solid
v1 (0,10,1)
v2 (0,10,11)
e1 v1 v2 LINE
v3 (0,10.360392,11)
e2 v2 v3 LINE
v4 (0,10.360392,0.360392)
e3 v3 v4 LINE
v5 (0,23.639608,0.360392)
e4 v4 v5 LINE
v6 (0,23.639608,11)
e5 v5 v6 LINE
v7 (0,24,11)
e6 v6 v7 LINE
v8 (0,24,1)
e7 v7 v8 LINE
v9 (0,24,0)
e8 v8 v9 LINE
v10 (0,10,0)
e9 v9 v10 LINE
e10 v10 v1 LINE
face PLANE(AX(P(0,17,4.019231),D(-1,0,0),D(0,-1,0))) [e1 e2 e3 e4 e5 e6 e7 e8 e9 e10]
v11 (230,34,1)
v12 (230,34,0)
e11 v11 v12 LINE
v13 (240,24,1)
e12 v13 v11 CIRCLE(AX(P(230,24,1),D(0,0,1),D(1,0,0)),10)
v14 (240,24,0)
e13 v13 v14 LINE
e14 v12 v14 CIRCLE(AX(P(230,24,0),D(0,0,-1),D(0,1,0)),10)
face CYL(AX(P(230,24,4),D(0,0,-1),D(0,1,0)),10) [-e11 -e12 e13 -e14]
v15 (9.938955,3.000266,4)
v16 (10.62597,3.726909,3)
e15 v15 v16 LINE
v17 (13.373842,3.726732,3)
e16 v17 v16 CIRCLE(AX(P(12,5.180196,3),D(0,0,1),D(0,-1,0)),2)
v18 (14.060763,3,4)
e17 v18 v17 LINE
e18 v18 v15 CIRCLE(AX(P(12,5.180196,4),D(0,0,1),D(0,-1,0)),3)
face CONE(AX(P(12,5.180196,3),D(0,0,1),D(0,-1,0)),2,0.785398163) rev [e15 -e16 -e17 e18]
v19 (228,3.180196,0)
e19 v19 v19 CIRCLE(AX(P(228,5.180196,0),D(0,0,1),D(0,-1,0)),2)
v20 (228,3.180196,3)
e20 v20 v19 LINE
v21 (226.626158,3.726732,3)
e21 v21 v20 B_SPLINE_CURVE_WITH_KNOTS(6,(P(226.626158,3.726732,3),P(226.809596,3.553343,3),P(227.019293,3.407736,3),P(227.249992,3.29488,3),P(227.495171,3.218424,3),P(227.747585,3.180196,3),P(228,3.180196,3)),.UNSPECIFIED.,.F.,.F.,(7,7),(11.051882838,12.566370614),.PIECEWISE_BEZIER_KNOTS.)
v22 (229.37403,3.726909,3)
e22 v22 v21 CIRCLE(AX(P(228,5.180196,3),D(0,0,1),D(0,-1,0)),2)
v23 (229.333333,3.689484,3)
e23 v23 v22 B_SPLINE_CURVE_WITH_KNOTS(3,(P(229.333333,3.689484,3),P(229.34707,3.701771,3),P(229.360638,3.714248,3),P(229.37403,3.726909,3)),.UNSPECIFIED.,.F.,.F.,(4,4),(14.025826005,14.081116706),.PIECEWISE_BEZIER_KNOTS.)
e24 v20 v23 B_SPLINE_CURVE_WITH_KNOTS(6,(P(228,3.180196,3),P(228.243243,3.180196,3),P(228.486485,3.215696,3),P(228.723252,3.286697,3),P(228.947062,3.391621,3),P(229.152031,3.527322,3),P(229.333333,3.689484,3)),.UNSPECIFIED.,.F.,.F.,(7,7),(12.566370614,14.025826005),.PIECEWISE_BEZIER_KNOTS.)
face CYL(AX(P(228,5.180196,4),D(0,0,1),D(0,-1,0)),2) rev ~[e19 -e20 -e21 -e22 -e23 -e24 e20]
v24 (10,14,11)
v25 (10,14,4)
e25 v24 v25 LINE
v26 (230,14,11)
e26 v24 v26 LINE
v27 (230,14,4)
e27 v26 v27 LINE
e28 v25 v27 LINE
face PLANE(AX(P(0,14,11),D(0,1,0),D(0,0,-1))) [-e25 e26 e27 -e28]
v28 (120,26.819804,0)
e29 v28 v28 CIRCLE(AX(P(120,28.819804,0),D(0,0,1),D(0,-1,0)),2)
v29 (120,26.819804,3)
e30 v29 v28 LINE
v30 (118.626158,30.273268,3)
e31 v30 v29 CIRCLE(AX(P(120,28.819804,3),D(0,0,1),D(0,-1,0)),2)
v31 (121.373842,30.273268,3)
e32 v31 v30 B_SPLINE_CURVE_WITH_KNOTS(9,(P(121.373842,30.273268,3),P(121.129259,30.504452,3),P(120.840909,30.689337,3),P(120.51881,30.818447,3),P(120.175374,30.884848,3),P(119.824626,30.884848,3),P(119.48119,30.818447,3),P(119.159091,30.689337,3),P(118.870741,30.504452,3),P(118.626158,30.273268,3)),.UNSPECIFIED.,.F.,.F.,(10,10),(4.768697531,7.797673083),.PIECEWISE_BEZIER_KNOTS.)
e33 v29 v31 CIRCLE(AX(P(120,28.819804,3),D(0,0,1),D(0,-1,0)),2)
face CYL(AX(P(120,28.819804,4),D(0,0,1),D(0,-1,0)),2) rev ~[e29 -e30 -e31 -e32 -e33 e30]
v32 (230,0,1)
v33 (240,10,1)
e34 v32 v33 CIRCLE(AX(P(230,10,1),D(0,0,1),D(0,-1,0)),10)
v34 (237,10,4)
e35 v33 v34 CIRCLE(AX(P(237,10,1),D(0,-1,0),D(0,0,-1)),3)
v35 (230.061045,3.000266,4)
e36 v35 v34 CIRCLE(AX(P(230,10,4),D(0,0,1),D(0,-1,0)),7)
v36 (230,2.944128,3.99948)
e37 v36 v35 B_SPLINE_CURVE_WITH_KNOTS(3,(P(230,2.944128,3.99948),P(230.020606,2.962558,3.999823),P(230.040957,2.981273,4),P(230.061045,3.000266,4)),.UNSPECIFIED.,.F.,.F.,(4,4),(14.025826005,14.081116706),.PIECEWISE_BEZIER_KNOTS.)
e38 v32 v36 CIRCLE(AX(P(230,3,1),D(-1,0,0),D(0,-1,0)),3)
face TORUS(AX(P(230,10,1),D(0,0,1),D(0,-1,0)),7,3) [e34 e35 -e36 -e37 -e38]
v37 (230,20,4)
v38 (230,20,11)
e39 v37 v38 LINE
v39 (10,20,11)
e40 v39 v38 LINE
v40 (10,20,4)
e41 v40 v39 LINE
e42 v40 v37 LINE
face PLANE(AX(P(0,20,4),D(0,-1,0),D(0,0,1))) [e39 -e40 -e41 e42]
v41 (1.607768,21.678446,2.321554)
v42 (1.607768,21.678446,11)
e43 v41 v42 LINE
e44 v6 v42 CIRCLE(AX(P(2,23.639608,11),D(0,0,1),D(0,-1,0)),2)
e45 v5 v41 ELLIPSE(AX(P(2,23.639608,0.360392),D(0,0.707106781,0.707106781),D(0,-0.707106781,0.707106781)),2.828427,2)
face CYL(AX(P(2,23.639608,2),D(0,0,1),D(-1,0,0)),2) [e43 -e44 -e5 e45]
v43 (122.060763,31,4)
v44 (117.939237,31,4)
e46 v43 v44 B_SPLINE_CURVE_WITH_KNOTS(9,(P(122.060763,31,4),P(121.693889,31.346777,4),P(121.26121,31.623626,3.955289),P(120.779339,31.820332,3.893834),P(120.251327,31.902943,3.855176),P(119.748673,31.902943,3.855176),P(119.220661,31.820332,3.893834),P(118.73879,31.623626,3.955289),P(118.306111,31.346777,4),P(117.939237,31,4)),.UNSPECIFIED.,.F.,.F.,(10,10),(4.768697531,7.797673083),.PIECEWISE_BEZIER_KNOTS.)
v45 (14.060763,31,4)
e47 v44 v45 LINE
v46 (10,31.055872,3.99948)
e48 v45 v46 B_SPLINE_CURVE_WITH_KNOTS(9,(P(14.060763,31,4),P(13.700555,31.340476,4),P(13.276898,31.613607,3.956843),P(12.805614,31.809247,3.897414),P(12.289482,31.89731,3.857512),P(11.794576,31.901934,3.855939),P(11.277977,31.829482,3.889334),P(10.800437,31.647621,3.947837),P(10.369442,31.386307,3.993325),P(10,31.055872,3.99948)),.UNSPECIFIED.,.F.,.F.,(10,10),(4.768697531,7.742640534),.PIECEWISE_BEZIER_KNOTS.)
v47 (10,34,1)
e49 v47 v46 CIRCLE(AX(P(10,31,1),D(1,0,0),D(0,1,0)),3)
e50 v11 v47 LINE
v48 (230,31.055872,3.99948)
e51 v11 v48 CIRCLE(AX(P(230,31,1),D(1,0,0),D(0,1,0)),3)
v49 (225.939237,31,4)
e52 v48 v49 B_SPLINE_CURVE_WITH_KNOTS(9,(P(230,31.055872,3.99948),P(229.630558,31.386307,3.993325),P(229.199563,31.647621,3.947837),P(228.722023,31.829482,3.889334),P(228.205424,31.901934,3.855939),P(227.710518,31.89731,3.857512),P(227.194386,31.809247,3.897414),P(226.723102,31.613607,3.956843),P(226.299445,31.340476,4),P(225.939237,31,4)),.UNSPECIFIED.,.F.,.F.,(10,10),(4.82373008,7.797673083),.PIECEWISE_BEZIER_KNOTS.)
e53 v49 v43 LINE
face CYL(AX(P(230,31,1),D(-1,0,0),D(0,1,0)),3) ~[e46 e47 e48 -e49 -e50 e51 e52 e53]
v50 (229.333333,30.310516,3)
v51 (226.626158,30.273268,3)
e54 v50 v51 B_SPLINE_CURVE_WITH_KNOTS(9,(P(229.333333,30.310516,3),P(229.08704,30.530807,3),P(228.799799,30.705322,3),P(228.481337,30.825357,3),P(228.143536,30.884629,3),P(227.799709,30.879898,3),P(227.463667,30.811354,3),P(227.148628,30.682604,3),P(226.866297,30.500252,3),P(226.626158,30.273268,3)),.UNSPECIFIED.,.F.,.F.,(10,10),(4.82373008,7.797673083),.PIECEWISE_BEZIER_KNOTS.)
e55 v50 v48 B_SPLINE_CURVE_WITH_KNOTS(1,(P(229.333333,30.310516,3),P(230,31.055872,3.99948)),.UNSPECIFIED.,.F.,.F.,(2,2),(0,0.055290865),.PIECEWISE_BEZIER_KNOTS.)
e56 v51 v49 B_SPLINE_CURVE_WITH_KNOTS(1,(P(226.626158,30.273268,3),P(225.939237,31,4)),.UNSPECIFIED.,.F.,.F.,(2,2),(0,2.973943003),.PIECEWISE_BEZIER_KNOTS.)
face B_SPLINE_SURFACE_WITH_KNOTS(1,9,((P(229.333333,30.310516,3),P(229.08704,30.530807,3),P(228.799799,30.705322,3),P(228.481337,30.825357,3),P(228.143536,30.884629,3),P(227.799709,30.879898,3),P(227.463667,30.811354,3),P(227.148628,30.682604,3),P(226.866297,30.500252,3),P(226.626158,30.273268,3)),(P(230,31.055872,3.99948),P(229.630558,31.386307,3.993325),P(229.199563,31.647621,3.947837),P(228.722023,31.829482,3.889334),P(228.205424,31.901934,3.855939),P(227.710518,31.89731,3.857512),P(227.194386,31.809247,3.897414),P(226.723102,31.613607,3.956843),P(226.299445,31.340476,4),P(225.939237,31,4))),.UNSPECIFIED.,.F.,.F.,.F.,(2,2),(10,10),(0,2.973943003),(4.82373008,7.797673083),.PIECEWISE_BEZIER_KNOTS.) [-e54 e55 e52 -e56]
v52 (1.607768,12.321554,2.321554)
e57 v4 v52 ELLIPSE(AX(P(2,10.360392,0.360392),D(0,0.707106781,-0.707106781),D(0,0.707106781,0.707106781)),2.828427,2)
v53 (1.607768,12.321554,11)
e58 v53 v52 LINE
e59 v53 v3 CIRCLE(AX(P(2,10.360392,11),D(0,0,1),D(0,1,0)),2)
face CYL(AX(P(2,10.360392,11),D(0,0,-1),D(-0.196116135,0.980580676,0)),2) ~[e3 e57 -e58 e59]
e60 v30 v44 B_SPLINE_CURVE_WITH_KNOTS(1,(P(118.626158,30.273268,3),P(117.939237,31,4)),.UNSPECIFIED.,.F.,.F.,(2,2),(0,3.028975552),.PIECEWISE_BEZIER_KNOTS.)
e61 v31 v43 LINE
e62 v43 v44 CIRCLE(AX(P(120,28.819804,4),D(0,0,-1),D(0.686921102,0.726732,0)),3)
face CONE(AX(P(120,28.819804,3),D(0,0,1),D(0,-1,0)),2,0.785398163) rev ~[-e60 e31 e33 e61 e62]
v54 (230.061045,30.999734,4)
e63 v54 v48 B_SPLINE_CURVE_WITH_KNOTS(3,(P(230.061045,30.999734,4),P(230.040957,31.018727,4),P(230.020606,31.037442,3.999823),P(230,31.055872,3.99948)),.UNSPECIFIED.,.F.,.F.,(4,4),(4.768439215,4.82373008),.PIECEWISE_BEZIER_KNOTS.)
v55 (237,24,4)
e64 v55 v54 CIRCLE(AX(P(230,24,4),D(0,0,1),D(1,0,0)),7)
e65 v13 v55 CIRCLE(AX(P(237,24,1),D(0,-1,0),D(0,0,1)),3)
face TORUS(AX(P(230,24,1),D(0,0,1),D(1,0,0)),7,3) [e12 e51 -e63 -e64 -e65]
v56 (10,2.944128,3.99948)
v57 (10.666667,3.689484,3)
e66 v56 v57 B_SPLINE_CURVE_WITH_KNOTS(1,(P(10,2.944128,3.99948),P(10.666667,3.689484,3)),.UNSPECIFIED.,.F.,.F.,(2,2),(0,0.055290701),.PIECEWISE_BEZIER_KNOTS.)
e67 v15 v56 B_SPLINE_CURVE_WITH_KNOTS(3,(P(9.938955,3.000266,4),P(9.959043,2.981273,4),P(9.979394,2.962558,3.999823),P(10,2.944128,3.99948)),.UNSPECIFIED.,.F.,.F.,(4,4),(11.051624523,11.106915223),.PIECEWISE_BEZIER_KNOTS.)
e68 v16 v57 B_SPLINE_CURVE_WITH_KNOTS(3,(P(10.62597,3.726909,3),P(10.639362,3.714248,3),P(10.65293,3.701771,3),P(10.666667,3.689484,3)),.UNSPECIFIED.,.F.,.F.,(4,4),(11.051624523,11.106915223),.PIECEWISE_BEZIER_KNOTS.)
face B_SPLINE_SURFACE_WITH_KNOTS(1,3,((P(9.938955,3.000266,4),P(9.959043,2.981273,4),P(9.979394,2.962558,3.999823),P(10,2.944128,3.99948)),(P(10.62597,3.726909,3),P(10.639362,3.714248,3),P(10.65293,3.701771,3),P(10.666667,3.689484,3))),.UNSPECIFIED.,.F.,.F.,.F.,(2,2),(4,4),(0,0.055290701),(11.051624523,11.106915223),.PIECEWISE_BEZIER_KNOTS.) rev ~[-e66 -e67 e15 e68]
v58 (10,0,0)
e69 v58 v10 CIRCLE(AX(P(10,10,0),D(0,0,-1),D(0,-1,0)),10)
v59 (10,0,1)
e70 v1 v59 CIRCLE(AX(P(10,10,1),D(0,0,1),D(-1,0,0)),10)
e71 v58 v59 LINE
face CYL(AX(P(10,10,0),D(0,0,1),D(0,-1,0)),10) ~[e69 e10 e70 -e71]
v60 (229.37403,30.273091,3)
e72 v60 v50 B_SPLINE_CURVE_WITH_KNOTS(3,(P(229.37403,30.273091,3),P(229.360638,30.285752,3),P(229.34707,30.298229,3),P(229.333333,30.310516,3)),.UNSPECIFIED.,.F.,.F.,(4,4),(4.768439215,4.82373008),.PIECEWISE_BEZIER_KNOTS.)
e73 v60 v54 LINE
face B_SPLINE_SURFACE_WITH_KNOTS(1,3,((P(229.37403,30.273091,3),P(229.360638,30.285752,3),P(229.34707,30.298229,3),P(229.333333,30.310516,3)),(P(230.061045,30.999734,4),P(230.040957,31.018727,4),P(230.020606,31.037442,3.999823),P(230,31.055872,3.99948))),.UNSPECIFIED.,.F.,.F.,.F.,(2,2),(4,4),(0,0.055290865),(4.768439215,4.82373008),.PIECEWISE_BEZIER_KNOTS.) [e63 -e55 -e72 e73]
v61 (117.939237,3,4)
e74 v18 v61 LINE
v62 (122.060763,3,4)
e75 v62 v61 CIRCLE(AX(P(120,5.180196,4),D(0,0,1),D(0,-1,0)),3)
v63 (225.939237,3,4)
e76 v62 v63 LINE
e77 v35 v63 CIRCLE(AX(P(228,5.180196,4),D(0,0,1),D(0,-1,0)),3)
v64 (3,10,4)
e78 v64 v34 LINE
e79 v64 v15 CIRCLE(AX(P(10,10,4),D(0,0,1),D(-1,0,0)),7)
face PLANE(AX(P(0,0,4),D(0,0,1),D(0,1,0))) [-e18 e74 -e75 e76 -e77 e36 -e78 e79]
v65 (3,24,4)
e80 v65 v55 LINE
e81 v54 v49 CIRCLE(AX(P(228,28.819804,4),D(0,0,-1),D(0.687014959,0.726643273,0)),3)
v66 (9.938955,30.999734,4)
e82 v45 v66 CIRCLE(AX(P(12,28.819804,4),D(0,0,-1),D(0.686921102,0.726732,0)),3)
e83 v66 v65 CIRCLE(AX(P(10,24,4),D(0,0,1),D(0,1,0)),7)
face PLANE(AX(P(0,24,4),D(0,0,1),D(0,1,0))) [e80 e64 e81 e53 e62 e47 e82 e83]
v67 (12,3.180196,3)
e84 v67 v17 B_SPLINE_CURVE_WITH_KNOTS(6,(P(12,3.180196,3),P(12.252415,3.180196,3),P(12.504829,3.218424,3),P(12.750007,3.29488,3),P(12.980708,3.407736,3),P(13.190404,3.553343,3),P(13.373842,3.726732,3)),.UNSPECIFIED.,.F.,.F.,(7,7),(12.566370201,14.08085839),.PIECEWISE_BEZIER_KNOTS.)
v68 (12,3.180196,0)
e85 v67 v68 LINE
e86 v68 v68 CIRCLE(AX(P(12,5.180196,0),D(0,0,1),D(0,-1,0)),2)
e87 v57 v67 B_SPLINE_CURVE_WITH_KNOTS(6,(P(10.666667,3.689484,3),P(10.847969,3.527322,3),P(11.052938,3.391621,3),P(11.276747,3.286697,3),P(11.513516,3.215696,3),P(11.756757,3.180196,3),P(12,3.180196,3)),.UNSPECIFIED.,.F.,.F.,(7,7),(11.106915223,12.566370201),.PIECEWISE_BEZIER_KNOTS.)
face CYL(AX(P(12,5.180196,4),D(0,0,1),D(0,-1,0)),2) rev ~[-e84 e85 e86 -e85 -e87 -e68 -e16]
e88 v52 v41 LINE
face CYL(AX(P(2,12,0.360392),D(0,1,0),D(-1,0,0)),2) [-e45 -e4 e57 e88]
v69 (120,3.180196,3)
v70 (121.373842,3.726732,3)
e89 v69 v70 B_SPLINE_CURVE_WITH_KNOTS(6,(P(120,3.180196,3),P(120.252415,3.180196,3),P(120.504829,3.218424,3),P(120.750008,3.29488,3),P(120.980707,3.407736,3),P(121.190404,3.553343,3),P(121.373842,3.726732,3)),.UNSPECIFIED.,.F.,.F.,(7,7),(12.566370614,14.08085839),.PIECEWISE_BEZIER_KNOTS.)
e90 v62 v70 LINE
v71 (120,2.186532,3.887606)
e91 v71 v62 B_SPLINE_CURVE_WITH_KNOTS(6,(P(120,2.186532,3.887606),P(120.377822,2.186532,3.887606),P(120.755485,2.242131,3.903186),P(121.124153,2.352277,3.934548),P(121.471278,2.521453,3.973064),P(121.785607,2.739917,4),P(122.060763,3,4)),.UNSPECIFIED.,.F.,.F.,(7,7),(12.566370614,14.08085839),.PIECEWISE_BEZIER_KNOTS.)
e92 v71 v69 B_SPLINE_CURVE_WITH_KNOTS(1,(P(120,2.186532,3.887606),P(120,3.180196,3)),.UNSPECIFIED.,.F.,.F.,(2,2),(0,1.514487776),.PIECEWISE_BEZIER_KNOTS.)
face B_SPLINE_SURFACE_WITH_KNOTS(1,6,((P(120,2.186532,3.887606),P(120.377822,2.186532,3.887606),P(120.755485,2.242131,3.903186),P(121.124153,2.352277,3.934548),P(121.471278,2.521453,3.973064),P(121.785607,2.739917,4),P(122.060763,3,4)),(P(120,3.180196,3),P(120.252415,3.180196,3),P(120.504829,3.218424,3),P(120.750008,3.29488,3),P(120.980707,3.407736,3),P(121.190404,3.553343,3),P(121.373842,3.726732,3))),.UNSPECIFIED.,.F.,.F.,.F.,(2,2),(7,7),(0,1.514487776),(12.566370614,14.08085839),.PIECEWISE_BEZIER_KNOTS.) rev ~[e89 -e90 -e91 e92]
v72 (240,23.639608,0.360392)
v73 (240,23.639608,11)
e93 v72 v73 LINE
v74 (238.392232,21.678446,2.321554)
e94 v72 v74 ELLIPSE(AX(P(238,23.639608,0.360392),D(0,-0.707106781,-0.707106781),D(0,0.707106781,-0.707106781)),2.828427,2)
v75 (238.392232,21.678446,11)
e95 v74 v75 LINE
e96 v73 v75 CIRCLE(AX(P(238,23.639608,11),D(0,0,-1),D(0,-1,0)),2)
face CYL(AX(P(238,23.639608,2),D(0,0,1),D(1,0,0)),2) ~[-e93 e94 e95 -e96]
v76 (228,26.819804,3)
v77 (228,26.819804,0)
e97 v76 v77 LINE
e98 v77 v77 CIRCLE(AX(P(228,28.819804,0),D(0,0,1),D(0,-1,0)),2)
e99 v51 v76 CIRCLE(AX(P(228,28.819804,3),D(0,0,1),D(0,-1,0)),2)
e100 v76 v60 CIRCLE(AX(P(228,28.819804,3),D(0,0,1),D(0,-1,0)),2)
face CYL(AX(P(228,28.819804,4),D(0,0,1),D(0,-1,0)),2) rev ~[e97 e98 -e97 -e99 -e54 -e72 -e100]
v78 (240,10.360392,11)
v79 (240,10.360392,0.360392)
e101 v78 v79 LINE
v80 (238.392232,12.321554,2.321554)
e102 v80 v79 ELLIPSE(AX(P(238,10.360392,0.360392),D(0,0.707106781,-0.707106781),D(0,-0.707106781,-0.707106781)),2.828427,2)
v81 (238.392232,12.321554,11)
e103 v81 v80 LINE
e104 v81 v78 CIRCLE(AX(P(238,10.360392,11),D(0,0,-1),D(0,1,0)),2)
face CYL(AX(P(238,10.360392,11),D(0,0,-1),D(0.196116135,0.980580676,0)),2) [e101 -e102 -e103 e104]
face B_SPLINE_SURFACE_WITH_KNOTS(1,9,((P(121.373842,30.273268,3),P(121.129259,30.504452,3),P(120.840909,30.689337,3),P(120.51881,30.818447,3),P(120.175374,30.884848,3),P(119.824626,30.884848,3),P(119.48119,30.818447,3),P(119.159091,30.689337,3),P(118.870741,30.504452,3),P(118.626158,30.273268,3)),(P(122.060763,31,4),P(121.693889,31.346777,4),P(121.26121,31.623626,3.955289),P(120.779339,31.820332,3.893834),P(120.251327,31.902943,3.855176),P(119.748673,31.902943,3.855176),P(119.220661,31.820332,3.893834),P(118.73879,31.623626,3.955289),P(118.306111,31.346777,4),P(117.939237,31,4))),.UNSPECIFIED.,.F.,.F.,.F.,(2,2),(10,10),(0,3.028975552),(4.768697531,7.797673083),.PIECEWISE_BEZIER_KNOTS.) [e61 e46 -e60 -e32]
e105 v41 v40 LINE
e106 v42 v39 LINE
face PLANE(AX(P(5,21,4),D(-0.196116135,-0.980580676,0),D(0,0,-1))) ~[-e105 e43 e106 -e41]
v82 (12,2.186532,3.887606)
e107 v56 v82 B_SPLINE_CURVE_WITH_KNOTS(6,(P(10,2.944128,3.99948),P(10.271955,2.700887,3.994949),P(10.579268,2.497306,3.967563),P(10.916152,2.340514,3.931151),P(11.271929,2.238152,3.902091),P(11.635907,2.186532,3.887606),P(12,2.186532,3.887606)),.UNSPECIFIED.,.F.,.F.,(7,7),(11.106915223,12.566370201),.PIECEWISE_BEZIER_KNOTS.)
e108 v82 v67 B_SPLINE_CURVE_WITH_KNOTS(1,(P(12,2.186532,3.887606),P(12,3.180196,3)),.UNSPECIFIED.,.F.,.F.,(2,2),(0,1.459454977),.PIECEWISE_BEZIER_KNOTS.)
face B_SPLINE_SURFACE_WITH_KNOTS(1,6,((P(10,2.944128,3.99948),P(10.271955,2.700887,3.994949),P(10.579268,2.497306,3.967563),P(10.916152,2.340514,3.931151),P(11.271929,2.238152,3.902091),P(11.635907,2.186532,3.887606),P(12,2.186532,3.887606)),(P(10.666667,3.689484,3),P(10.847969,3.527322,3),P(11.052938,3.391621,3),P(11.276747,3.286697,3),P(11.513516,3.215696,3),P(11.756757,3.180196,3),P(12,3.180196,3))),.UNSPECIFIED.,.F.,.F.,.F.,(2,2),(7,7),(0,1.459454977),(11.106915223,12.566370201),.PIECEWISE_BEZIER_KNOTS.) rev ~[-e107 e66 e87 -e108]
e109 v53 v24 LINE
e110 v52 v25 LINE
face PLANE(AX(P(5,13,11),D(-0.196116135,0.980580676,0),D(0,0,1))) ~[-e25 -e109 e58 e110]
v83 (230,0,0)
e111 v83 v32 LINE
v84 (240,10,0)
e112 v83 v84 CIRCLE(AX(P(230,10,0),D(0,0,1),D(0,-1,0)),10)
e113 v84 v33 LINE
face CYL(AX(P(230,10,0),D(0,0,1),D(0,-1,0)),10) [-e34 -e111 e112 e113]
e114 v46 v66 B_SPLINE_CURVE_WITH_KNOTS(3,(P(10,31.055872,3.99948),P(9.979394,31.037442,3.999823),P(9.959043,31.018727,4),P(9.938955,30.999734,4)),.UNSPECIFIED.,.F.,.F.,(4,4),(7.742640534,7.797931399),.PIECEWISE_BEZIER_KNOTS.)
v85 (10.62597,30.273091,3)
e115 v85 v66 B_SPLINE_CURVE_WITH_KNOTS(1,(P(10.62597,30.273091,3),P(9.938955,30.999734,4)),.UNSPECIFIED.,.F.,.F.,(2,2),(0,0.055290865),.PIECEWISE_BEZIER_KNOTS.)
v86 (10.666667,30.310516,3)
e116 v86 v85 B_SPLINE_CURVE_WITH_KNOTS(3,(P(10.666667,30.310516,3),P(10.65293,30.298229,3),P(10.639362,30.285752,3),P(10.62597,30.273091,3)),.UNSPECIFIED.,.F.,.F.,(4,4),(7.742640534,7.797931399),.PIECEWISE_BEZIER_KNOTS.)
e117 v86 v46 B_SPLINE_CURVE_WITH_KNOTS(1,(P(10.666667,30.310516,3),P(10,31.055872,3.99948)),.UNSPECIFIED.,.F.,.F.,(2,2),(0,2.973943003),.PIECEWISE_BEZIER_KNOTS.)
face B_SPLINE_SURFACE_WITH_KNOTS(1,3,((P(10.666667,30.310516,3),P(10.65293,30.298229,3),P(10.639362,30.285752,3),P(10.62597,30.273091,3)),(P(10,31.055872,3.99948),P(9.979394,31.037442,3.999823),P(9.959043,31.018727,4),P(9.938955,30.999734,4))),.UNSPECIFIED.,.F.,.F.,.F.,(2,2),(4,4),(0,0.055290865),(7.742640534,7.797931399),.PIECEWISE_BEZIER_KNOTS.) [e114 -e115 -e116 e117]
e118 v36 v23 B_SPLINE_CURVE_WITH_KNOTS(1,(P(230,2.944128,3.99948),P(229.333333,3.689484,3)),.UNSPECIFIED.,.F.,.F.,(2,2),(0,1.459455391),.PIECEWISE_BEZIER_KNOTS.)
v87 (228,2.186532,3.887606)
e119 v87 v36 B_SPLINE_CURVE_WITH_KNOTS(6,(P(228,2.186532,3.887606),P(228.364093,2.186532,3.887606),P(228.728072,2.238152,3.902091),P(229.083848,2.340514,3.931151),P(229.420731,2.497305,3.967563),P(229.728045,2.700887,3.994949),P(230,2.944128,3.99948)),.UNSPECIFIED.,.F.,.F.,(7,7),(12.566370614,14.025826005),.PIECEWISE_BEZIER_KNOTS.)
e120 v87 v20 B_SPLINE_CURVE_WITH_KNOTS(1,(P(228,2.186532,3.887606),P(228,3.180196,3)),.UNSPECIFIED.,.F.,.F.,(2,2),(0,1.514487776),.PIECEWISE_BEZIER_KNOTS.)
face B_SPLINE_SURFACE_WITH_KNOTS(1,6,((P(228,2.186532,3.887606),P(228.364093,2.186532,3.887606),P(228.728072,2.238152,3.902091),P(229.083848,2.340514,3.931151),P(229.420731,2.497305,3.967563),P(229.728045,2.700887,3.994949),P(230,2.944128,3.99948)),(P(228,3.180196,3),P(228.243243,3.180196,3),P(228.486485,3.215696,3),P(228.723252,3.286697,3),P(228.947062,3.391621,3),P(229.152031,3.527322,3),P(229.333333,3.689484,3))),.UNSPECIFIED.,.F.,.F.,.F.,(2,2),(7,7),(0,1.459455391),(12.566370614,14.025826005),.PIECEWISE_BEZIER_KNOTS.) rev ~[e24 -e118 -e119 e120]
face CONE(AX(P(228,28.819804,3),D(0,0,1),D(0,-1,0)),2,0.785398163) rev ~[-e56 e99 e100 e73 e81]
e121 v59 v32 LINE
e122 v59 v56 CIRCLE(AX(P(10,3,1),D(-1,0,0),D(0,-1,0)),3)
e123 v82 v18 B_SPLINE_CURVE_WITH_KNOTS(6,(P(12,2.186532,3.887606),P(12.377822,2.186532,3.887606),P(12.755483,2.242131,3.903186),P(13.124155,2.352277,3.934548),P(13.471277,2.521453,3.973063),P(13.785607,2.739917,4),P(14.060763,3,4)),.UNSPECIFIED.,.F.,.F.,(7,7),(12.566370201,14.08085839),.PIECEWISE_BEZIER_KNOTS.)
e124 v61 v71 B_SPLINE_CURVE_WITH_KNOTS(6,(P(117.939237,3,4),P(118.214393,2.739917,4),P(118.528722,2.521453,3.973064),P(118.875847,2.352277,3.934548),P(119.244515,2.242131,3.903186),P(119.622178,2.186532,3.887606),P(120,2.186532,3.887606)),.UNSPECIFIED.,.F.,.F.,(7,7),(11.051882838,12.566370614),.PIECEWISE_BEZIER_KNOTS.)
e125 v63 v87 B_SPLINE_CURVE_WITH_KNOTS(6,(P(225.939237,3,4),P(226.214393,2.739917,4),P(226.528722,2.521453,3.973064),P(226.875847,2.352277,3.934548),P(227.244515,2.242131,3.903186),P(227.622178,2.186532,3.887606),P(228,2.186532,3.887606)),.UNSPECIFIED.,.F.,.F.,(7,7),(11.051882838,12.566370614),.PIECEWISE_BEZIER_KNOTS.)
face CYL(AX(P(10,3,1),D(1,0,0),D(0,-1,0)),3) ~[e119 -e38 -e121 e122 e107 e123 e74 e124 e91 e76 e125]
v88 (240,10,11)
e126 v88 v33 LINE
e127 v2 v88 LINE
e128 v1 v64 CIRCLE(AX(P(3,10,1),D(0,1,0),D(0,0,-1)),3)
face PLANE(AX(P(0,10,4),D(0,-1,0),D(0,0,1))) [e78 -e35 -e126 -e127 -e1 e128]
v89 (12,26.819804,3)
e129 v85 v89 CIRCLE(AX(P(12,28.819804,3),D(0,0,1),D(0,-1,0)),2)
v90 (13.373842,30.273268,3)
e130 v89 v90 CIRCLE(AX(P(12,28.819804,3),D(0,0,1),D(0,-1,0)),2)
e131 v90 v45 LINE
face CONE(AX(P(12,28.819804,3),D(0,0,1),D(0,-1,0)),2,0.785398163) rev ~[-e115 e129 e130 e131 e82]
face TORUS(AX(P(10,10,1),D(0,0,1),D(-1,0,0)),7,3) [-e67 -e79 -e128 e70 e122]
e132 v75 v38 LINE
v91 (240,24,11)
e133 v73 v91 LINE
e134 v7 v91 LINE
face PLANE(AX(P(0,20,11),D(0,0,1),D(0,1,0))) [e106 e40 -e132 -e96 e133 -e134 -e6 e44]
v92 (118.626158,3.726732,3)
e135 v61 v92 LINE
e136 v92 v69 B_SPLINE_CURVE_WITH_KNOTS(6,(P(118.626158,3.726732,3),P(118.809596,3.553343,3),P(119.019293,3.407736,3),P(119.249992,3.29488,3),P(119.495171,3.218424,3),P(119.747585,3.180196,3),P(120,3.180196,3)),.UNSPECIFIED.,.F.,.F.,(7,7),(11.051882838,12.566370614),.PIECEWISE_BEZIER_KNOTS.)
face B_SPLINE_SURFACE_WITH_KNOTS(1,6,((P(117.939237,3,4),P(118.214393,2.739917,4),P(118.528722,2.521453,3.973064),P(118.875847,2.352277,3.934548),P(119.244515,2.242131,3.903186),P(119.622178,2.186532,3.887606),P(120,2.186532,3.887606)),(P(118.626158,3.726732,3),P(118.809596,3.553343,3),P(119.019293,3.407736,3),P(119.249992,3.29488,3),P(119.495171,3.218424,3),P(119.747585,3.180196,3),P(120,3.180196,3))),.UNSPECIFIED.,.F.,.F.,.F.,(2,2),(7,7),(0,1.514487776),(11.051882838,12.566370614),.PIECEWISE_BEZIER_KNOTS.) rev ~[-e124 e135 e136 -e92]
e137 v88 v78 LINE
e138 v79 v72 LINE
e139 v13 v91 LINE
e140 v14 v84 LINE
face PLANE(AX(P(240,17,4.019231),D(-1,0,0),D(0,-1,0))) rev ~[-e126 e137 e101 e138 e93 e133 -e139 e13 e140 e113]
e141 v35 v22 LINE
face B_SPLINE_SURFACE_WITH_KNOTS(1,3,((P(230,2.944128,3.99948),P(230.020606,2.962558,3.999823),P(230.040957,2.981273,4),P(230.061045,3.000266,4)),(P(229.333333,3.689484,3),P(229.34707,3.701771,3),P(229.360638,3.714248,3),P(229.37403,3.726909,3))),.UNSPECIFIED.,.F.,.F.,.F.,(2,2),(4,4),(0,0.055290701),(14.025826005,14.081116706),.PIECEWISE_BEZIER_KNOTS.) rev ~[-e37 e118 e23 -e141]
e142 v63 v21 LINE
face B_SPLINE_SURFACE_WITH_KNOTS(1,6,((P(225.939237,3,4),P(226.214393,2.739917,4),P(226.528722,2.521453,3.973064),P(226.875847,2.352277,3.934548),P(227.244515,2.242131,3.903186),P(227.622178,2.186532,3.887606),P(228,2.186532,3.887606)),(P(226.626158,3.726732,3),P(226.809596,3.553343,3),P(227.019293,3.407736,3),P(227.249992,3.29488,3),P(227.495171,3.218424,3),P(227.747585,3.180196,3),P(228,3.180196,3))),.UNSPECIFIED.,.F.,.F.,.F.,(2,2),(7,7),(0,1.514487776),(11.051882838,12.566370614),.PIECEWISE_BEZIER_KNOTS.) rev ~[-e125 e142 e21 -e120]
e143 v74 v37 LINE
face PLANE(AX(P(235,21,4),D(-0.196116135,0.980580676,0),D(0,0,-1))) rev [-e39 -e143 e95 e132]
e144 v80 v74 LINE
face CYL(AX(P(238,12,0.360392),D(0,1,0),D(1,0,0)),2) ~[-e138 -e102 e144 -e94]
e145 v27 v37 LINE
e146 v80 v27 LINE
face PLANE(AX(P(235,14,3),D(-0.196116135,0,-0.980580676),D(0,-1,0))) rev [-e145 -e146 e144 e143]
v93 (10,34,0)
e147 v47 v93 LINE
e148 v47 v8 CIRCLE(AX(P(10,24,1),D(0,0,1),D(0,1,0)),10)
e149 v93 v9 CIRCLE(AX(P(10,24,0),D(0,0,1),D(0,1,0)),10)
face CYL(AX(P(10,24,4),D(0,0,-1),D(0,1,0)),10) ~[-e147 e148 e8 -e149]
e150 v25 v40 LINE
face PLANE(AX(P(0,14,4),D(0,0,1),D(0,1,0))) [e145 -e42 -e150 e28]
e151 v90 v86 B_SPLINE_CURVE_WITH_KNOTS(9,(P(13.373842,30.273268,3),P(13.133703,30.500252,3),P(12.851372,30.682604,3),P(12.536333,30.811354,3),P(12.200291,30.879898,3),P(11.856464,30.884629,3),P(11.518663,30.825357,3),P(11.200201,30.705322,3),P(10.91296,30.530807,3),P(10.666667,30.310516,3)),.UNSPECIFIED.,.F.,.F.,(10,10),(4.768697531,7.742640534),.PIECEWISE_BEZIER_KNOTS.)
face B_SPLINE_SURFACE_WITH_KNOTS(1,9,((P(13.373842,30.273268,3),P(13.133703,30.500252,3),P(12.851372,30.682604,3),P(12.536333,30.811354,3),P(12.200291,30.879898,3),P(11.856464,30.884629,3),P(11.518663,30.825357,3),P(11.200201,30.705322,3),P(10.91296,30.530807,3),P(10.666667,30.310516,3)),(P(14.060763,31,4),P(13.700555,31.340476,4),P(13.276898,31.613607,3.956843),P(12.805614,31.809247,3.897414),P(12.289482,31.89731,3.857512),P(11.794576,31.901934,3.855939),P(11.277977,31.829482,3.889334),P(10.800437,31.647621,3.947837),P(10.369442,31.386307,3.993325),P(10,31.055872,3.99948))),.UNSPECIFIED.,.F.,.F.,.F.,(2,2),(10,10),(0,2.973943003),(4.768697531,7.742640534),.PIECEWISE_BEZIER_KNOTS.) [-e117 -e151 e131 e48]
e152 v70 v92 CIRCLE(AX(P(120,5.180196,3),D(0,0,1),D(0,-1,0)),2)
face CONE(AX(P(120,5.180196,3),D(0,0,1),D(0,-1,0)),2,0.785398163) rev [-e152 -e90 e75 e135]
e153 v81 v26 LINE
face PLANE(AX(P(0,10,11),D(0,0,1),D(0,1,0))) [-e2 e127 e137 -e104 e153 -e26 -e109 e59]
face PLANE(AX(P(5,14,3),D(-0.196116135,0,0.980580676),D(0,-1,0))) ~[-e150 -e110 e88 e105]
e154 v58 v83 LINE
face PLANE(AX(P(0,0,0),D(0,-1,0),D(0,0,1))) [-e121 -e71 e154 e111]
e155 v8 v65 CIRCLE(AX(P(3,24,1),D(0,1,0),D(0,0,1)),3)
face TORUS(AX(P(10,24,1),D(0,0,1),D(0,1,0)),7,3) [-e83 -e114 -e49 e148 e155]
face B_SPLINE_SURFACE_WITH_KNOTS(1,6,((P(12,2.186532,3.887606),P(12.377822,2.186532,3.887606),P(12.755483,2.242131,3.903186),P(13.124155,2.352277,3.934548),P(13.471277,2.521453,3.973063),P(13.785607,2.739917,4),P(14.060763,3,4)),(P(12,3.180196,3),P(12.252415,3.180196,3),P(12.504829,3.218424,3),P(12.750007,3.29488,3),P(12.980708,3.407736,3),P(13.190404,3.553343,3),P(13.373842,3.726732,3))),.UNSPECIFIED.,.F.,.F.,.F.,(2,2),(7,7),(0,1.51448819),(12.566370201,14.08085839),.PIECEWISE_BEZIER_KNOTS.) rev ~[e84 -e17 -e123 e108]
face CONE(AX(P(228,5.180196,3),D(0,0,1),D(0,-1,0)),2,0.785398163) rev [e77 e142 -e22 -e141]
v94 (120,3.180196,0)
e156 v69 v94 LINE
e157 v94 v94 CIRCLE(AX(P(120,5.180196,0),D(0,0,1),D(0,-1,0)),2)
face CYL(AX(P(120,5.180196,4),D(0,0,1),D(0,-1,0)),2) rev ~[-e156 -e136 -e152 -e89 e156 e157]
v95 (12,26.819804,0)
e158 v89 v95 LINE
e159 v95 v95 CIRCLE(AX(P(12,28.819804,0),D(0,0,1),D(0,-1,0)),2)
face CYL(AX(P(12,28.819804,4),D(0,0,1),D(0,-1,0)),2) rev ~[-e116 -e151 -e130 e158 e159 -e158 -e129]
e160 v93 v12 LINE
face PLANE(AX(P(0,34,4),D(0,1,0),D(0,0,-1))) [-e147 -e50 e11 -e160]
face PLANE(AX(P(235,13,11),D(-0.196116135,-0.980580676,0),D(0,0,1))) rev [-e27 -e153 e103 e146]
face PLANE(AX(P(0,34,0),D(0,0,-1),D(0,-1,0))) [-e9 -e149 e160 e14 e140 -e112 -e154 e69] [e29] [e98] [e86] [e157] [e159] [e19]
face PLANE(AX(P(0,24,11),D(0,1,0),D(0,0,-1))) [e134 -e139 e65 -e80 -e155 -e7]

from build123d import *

# Parameters (mm, degrees)
PAD_DEPTH       = 240
FILLET_R        = 10
FILLET001_R     = 3
CHAMFER_1_SIZE2 = 10
CHAMFER_1_SIZE  = 2
CHAMFER_2_SIZE2 = 10
CHAMFER_2_SIZE  = 2
FILLET002_R     = 2
SKETCH001_R     = 2
POCKET_DEPTH    = 4.001
CHAMFER001_SIZE = 1


with BuildPart() as part:
    # Sketch → Pad (new body)
    with BuildSketch(Plane.YZ):
        Polygon((0, 0), (0, 4), (10, 4), (10, 11), (14, 11), (14, 4), (20, 4), (20, 11), (24, 11), (24, 4), (34, 4), (34, 0), align=None)
    extrude(amount=PAD_DEPTH)

    # Fillet
    fillet_edges = [part.edges().sort_by_distance(p)[0] for p in [
        (240, 0, 2),
        (240, 34, 2),
        (0, 0, 2),
        (0, 34, 2),
    ]]
    fillet(fillet_edges, radius=FILLET_R)

    # Fillet001
    fillet001_edges = [part.edges().sort_by_distance(p)[0] for p in [
        (237.071068, 2.928932, 4),
        (120, 0, 4),
        (2.928932, 2.928932, 4),
        (2.928932, 31.071068, 4),
        (120, 34, 4),
        (237.071068, 31.071068, 4),
    ]]
    fillet(fillet001_edges, radius=FILLET001_R)

    # Chamfer 1
    chamfer_1_edges = [part.edges().sort_by_distance(p)[0] for p in [
        (240, 17, 4),
        (240, 20, 7.5),
        (240, 14, 7.5),
    ]]
    chamfer_1_side = part.faces().sort_by_distance((240, 23.821955, 0.5))[0]
    chamfer(chamfer_1_edges, length=CHAMFER_1_SIZE, length2=CHAMFER_1_SIZE2, reference=chamfer_1_side)

    # Chamfer 2
    chamfer_2_edges = [part.edges().sort_by_distance(p)[0] for p in [
        (0, 17, 4),
        (0, 20, 7.5),
        (0, 14, 7.5),
    ]]
    chamfer_2_side = part.faces().sort_by_distance((0, 23.821955, 0.5))[0]
    chamfer(chamfer_2_edges, length=CHAMFER_2_SIZE, length2=CHAMFER_2_SIZE2, reference=chamfer_2_side)

    # Fillet002
    fillet002_edges = [part.edges().sort_by_distance(p)[0] for p in [
        (240, 12, 6.5),
        (240, 17, 2),
        (240, 22, 6.5),
        (0, 22, 6.5),
        (0, 17, 2),
        (0, 12, 6.5),
    ]]
    fillet(fillet002_edges, radius=FILLET002_R)

    # Sketch001 (on Face29 of Fillet002) → Pocket (cut, through all)
    with BuildSketch(Plane(origin=(0, 0, 4), x_dir=(0, -1, 0), z_dir=(0, 0, 1))):
        with Locations((-28.819804, 12)):
            Circle(SKETCH001_R)
        with Locations((-5.180196, 12)):
            Circle(SKETCH001_R)
        with Locations((-5.180196, 120)):
            Circle(SKETCH001_R)
        with Locations((-28.819804, 120)):
            Circle(SKETCH001_R)
        with Locations((-28.819804, 228)):
            Circle(SKETCH001_R)
        with Locations((-5.180196, 228)):
            Circle(SKETCH001_R)
    extrude(amount=-POCKET_DEPTH, mode=Mode.SUBTRACT)

    # Chamfer001
    chamfer001_edges = [part.edges().sort_by_distance(p)[0] for p in [
        (12, 30.819804, 4),
        (12, 7.180196, 4),
        (120, 7.180196, 4),
        (120, 30.819804, 4),
        (228, 30.819804, 4),
        (228, 7.180196, 4),
    ]]
    chamfer(chamfer001_edges, length=CHAMFER001_SIZE)


solid = part.part
